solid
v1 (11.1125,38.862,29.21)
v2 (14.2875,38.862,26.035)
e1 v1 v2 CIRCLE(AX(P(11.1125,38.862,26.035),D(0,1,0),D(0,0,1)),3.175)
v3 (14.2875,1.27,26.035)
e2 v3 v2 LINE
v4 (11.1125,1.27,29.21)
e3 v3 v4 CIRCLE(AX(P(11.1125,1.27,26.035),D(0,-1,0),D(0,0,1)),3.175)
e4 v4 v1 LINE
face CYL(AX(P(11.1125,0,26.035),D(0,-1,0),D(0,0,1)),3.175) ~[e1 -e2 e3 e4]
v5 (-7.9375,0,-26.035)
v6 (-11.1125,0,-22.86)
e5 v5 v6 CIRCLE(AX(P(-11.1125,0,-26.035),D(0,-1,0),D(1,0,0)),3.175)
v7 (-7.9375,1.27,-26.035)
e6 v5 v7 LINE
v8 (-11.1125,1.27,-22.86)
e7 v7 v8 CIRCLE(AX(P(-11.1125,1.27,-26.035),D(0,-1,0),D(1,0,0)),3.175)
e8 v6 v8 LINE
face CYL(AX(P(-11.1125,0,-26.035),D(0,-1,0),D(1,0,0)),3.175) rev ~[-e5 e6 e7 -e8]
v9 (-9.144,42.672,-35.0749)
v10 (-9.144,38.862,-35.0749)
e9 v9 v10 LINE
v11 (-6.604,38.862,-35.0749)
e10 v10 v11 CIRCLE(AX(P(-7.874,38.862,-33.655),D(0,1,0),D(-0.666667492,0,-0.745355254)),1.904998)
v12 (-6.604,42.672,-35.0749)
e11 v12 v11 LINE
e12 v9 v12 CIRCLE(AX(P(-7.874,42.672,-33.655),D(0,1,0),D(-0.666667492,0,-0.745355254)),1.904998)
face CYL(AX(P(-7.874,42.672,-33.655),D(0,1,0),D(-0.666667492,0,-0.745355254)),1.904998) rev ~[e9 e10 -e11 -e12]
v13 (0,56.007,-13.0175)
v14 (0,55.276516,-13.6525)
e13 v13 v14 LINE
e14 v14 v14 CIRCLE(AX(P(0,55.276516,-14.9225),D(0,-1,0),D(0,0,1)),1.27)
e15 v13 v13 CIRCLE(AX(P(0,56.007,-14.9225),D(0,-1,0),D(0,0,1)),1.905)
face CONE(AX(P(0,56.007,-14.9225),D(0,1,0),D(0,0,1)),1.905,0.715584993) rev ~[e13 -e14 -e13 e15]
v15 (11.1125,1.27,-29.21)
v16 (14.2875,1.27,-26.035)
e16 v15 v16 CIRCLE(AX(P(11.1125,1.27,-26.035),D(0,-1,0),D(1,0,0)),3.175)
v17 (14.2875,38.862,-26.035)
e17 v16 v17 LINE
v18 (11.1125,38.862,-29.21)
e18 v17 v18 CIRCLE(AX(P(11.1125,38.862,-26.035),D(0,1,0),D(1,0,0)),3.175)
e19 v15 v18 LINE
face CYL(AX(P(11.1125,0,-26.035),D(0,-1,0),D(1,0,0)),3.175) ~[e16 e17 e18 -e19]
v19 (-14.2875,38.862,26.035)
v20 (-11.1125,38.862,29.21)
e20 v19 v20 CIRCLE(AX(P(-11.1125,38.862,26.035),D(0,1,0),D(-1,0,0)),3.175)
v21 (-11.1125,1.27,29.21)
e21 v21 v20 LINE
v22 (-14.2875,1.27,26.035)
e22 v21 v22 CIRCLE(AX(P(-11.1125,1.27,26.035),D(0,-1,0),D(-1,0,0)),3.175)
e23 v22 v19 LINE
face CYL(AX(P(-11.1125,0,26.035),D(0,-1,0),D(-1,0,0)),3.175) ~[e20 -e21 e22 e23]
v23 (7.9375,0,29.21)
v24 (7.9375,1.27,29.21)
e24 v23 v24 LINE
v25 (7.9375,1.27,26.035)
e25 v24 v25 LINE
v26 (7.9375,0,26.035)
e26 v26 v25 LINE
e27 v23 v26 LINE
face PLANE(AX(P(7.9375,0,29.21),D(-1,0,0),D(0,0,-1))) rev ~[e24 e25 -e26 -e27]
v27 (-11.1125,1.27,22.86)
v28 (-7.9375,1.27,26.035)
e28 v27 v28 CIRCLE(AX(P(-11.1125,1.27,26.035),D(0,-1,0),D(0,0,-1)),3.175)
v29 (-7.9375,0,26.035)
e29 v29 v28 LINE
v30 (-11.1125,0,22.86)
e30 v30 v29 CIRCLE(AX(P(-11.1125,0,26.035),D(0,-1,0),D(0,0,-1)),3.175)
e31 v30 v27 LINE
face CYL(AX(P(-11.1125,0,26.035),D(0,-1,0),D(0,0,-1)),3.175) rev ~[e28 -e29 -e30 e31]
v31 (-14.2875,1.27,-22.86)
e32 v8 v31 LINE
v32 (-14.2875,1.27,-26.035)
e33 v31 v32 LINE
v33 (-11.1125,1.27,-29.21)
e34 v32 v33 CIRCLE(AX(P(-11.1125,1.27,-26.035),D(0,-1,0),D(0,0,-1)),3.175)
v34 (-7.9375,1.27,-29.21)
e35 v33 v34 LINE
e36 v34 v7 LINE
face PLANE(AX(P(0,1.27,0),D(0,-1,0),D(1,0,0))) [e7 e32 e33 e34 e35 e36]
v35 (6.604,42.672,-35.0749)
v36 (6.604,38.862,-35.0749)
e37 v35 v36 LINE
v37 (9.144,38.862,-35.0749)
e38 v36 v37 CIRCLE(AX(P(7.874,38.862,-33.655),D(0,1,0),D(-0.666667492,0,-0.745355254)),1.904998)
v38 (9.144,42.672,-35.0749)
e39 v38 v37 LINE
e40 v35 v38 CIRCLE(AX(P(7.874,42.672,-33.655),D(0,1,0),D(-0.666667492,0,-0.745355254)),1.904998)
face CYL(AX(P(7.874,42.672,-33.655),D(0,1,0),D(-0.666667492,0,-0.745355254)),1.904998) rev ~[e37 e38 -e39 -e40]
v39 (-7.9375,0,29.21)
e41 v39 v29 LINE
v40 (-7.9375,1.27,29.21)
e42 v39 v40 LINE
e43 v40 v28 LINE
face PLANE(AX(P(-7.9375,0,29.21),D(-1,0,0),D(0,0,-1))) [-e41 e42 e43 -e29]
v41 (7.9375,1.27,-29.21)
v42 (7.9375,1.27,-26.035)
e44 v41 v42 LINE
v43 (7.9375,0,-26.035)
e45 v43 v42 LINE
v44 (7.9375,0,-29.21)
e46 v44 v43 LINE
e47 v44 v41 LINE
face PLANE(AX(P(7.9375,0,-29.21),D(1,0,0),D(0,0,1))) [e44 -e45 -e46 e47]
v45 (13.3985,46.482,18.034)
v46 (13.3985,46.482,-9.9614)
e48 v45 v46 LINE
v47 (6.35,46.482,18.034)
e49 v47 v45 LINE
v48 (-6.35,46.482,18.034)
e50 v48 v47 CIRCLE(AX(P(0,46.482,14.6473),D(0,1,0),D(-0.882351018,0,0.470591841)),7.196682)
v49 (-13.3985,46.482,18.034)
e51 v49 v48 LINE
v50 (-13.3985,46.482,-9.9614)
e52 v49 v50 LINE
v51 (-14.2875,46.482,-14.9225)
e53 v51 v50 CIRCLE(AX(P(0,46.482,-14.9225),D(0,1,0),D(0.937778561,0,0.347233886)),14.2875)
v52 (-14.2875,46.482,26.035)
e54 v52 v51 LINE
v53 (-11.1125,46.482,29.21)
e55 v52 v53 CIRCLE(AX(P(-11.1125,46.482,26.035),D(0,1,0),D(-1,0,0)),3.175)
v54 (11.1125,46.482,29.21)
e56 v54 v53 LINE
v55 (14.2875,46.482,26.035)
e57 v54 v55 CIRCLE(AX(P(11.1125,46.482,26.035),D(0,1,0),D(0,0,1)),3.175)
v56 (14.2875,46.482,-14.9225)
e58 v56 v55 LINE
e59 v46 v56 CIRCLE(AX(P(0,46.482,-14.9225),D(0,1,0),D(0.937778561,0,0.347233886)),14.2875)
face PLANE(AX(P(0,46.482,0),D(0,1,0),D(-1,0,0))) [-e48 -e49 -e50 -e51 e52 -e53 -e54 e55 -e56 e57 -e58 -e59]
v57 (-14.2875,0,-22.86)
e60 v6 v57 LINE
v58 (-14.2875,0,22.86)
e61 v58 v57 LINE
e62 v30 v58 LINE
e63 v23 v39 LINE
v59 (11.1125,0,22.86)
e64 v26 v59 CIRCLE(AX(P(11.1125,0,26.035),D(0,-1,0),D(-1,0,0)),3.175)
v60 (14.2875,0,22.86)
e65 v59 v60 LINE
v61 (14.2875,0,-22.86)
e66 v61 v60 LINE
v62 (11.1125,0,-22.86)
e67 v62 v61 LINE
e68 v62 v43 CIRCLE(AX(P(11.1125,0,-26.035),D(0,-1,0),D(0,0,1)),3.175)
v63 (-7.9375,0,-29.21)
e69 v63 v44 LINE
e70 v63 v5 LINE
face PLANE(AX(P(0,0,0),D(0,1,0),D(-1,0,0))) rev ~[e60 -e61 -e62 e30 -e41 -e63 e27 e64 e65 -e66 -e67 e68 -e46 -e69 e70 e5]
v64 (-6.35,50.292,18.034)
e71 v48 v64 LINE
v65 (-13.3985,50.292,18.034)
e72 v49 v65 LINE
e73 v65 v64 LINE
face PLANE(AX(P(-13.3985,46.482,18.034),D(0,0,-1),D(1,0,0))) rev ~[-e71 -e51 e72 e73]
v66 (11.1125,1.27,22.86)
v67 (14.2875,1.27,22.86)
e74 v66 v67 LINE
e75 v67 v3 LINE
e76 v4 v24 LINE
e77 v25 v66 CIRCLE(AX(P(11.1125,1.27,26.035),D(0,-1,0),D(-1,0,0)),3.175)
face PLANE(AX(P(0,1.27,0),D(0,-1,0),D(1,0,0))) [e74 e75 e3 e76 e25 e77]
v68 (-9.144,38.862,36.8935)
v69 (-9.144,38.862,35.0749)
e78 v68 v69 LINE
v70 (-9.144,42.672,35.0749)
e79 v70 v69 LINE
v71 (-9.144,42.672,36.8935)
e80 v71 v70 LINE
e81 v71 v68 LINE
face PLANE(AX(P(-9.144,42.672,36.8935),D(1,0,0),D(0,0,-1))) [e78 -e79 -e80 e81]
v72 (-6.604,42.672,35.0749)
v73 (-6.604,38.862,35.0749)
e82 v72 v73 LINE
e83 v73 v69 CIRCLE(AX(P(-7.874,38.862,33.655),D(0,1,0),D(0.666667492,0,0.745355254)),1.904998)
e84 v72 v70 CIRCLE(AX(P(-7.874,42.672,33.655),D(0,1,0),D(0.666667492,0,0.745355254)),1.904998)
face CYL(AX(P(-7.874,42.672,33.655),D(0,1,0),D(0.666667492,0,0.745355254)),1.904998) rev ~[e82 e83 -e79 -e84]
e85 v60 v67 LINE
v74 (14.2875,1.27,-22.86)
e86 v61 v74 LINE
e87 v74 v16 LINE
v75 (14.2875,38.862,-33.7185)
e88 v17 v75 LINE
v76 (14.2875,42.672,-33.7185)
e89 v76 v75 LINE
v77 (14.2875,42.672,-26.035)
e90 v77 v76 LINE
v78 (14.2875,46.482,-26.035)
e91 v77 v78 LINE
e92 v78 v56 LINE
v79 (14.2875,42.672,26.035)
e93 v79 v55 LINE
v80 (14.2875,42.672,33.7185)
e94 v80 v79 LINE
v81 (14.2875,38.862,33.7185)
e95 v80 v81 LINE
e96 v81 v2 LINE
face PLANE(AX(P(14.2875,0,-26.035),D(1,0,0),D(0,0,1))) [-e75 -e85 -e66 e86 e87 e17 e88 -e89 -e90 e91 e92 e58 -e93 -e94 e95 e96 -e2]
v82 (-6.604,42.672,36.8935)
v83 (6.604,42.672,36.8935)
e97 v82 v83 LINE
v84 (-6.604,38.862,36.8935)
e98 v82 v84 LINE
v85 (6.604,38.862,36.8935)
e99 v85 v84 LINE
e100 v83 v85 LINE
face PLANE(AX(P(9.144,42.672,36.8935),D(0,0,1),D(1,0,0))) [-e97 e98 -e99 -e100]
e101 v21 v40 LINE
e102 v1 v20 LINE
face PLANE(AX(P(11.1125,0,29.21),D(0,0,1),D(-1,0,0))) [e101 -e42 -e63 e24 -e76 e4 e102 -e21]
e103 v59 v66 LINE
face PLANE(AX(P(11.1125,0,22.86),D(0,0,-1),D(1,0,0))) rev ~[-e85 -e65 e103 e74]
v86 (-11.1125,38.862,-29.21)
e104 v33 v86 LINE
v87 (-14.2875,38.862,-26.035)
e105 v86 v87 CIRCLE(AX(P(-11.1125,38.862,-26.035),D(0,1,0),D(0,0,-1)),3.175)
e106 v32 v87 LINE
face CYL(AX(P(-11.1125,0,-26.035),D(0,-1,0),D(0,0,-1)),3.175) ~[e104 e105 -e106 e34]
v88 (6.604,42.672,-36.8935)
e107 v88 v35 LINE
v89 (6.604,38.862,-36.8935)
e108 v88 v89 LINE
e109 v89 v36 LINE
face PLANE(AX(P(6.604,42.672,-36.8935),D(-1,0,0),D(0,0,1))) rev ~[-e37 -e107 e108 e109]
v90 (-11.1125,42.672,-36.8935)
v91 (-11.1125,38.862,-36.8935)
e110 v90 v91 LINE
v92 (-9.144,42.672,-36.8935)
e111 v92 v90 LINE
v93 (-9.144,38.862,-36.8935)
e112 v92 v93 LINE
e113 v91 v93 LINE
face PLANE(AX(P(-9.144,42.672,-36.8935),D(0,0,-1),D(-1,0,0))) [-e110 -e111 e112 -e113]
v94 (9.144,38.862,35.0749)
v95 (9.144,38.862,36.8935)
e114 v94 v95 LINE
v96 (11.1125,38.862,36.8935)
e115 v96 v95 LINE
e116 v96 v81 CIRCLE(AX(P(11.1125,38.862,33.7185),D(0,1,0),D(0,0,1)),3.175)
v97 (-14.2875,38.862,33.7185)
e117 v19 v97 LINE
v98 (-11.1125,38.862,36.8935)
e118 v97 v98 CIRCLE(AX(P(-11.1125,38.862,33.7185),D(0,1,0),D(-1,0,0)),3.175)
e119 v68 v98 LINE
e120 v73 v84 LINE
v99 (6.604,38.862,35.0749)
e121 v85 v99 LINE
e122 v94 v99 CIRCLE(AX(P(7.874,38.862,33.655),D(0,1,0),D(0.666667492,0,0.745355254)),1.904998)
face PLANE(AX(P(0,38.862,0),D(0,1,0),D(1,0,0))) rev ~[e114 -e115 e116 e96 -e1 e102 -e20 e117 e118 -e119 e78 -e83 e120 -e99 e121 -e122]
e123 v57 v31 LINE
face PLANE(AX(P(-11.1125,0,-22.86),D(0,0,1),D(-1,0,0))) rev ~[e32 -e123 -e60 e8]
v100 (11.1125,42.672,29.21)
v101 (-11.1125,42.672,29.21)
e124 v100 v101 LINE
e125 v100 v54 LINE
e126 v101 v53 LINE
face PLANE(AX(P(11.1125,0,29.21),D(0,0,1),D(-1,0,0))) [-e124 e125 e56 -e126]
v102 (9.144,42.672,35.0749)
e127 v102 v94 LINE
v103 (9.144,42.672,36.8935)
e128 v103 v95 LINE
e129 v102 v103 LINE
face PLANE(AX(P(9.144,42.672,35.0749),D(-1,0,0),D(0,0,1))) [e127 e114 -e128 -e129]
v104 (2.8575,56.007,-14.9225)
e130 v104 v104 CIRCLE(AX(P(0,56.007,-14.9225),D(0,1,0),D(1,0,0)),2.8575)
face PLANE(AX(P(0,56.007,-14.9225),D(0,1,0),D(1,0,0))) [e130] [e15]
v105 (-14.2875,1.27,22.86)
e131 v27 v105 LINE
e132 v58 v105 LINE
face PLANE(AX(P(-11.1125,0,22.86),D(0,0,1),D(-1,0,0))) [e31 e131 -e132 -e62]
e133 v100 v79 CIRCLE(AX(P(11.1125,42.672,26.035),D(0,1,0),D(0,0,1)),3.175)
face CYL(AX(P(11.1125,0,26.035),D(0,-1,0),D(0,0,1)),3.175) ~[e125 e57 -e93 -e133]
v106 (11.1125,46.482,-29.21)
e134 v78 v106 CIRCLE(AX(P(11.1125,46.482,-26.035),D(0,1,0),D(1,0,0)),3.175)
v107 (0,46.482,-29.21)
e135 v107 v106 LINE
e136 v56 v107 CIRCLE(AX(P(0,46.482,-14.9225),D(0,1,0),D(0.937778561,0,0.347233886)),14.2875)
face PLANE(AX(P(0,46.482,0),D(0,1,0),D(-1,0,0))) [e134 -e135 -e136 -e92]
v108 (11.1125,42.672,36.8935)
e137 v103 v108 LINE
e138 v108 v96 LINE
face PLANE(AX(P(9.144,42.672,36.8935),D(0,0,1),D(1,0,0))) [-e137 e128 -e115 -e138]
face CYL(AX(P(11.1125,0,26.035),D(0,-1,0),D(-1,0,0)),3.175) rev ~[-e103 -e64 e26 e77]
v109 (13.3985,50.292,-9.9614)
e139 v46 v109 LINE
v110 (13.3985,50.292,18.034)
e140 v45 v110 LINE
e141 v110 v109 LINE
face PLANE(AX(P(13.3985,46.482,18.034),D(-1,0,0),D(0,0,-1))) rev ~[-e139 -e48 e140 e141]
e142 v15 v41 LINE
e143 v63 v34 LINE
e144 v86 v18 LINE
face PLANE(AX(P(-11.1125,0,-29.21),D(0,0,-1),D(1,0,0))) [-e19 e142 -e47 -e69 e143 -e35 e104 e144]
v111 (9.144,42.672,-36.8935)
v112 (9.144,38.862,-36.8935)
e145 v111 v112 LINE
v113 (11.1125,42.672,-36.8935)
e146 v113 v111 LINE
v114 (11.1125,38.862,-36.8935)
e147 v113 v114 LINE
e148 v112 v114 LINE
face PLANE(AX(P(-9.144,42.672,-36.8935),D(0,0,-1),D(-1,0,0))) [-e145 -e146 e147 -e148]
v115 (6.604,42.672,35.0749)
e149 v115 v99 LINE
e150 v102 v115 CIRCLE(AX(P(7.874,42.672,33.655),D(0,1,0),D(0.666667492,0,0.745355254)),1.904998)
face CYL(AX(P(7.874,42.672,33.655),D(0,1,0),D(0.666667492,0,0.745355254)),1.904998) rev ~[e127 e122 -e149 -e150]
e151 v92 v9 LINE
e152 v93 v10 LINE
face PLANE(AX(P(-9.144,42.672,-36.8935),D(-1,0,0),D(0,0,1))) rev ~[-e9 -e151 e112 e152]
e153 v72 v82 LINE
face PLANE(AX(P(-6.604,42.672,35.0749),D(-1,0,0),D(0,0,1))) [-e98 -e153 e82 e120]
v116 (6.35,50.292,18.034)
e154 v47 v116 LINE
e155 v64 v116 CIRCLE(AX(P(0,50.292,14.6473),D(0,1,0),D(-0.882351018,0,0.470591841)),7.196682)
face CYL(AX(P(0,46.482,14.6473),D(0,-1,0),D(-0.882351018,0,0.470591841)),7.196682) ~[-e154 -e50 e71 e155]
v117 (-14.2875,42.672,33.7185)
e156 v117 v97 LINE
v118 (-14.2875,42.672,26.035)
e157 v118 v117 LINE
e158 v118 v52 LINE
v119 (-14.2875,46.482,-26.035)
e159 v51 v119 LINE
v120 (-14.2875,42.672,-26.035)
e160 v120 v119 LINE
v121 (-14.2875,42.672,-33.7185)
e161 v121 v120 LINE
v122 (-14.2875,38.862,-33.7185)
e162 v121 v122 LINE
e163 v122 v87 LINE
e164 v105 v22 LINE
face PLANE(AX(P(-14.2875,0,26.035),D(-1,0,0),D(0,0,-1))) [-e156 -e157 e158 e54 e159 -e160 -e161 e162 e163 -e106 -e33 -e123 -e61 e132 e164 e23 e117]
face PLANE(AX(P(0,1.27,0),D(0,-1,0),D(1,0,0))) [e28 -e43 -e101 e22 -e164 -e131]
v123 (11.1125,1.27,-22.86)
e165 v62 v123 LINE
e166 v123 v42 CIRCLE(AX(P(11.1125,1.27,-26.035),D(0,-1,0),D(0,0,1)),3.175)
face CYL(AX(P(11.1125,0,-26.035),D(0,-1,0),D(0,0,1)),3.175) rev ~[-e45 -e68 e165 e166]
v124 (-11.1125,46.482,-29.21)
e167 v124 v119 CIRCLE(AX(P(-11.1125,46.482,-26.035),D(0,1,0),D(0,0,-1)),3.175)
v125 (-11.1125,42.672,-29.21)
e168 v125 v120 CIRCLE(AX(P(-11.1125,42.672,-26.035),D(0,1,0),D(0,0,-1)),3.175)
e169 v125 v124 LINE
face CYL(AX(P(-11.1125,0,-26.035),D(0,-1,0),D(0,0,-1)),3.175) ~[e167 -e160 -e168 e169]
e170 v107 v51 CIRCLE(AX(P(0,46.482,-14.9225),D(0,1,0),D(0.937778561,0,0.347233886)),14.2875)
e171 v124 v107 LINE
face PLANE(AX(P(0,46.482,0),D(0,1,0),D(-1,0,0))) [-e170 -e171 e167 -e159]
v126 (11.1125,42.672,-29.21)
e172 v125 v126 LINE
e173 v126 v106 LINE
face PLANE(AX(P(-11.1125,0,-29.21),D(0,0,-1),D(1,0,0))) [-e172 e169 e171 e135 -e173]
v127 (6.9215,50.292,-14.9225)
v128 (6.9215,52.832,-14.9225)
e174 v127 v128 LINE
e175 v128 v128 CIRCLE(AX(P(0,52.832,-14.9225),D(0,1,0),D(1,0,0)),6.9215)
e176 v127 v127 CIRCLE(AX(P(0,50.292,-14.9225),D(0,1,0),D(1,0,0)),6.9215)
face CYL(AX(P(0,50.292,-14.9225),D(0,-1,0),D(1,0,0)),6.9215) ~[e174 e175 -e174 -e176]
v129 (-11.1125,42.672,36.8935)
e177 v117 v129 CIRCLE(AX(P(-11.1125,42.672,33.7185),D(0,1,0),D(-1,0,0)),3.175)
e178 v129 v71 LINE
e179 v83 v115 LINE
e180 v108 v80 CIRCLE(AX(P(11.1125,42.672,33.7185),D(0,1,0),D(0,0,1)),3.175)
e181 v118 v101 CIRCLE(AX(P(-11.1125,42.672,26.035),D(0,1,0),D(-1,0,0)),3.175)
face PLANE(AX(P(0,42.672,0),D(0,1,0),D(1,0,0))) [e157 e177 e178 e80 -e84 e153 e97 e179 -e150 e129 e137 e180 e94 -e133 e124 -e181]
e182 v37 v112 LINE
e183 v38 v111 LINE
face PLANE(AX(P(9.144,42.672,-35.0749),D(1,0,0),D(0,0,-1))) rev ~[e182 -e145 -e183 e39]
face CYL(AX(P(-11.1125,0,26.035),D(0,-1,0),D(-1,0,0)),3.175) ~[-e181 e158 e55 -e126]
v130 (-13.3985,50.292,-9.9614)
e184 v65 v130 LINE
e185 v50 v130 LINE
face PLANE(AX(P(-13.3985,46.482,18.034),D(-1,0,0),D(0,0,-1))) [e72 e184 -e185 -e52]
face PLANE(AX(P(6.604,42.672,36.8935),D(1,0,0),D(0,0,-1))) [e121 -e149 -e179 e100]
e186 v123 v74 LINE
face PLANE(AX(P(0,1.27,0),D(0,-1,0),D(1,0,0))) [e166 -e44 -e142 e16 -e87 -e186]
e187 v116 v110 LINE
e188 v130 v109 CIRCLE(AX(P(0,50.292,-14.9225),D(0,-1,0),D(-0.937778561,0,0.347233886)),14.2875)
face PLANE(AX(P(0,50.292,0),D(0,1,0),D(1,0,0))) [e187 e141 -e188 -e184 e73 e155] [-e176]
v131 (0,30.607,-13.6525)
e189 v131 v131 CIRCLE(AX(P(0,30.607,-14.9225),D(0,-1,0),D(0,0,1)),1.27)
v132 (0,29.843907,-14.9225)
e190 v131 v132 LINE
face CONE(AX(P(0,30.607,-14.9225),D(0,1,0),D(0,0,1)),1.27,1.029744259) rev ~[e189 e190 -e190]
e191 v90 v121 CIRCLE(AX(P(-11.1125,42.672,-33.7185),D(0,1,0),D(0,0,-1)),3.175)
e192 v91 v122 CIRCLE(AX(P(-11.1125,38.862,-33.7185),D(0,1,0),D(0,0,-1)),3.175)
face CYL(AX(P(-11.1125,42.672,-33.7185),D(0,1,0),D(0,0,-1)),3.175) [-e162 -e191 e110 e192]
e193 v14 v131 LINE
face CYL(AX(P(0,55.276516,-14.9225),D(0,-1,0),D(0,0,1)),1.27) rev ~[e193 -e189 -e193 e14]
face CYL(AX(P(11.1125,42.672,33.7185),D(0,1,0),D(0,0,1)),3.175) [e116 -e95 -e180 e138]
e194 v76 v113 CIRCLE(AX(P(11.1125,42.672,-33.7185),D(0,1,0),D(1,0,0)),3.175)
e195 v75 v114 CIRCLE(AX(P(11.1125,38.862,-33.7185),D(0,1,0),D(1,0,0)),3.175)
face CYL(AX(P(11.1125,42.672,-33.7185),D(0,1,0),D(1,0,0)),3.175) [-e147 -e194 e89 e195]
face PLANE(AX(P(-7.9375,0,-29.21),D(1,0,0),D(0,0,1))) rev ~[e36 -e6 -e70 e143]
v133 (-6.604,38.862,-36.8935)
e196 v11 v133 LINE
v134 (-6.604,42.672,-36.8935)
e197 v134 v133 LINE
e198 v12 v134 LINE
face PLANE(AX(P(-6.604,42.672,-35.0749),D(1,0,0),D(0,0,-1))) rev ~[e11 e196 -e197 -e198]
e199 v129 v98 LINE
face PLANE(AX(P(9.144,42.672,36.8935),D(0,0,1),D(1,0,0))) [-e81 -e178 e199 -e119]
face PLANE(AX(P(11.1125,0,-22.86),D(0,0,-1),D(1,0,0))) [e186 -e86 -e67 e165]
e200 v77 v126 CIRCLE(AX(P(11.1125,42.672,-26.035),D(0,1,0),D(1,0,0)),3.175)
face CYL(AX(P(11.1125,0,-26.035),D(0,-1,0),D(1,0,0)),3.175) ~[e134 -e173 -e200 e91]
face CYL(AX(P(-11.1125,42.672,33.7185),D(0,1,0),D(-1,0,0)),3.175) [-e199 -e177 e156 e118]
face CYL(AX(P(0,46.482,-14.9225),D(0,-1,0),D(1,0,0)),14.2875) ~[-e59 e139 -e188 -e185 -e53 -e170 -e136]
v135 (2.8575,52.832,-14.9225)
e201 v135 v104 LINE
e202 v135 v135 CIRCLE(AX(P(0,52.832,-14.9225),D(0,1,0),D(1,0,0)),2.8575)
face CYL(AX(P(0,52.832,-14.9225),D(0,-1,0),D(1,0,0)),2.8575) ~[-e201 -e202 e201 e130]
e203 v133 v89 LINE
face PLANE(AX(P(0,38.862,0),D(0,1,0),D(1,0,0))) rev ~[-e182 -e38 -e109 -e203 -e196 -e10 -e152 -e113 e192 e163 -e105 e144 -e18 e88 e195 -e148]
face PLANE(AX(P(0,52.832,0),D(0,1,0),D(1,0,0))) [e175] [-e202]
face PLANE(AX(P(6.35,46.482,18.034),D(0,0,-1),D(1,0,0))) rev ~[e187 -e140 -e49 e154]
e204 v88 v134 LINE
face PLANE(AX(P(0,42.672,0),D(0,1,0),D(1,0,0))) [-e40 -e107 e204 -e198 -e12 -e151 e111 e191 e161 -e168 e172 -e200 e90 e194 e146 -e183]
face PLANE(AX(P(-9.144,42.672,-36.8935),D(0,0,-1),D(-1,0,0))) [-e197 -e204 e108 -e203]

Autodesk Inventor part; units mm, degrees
ref_plane "YZ Plane" through (0, 0, 0) normal (1, 0, 0) x (0, 1, 0)
ref_plane "XZ Plane" through (0, 0, 0) normal (0, 1, 0) x (-1, 0, 0)
sketch "Sketch1" plane through (0, 0, 0) normal (0, 1, 0) x (-1, 0, 0)
  line L0 (-11.1125, 29.21) -> (11.1125, 29.21)
  line L1 (14.2875, 26.035) -> (14.2875, -26.035)
  line L2 (11.1125, -29.21) -> (-11.1125, -29.21)
  line L3 (-14.2875, -26.035) -> (-14.2875, 26.035)
  line L4 (-14.2875, 29.21) -> (14.2875, -29.21) construction
  line L5 (14.2875, 29.21) -> (-14.2875, -29.21) construction
  arc A0 (14.2875, 26.035) -> (11.1125, 29.21) centre (11.1125, 26.035) ccw
  arc A1 (-11.1125, 29.21) -> (-14.2875, 26.035) centre (-11.1125, 26.035) ccw
  arc A2 (-14.2875, -26.035) -> (-11.1125, -29.21) centre (-11.1125, -26.035) ccw
  arc A3 (11.1125, -29.21) -> (14.2875, -26.035) centre (11.1125, -26.035) ccw
  point P0 (0, 0)
  dimension "d0" = 28.575
  dimension "d1" = 58.42
  dimension "d2" = 3.175
extrude "Extrusion1" add sketch "Sketch1" along normal blind 46.482
ref_plane "Work Plane1" through (0, 42.672, 0) normal (0, 1, 0) x (1, 0, 0)
sketch "Sketch2" plane through (0, 42.672, 0) normal (0, 1, 0) x (1, 0, 0)
  arc A0 (-11.1125, 29.21) -> (-14.2875, 26.035) centre (-11.1125, 26.035) ccw projected
  line L0 (-11.1125, 29.21) -> (11.1125, 29.21) projected
  arc A1 (14.2875, 26.035) -> (11.1125, 29.21) centre (11.1125, 26.035) ccw projected
  line L1 (14.2875, 26.035) -> (14.2875, -26.035) projected
  arc A2 (11.1125, -29.21) -> (14.2875, -26.035) centre (11.1125, -26.035) ccw projected
  line L2 (11.1125, -29.21) -> (-11.1125, -29.21) projected
  arc A3 (-14.2875, -26.035) -> (-11.1125, -29.21) centre (-11.1125, -26.035) ccw projected
  line L3 (-14.2875, -26.035) -> (-14.2875, 26.035) projected
  line L4 (-11.1125, -36.8935) -> (11.1125, -36.8935)
  line L5 (14.2875, -33.7185) -> (14.2875, 33.7185)
  line L6 (11.1125, 36.8935) -> (-6.604, 36.8935)
  line L7 (-14.2875, 33.7185) -> (-14.2875, -33.7185)
  line L8 (-14.2875, -36.8935) -> (14.2875, 36.8935) construction
  line L9 (14.2875, -36.8935) -> (-14.2875, 36.8935) construction
  arc A4 (-11.1125, 36.8935) -> (-14.2875, 33.7185) centre (-11.1125, 33.7185) ccw
  arc A5 (14.2875, 33.7185) -> (11.1125, 36.8935) centre (11.1125, 33.7185) ccw
  arc A6 (11.1125, -36.8935) -> (14.2875, -33.7185) centre (11.1125, -33.7185) ccw
  arc A7 (-14.2875, -33.7185) -> (-11.1125, -36.8935) centre (-11.1125, -33.7185) ccw
  line L10 (-7.874, -33.655) -> (7.874, -33.655) construction
  line L11 (7.874, -33.655) -> (7.874, 33.655) construction
  line L12 (7.874, 33.655) -> (-7.874, 33.655) construction
  line L13 (-7.874, 33.655) -> (-7.874, -33.655) construction
  line L14 (-7.874, -33.655) -> (7.874, 33.655) construction
  line L15 (7.874, -33.655) -> (-7.874, 33.655) construction
  arc A8 (-9.144, 35.0749) -> (-6.604, 35.0749) centre (-7.874, 33.655) ccw
  line L16 (-9.144, 32.385) -> (-6.604, 32.385) construction
  line L17 (-6.604, 32.385) -> (-6.604, 34.925) construction
  line L18 (-6.604, 34.925) -> (-9.144, 34.925) construction
  line L19 (-9.144, 34.925) -> (-9.144, 32.385) construction
  line L20 (-9.144, 32.385) -> (-6.604, 34.925) construction
  line L21 (-6.604, 32.385) -> (-9.144, 34.925) construction
  line L22 (-9.144, 34.925) -> (-6.604, 34.925) construction
  line L23 (-6.604, 34.925) -> (-6.604, 36.8935)
  line L24 (-6.604, 36.8935) -> (-9.144, 36.8935)
  line L25 (-9.144, 36.8935) -> (-9.144, 34.925)
  arc A9 (-6.604, 35.0749) -> (-9.144, 35.0749) centre (-7.874, 33.655) ccw construction
  line L26 (-9.144, 36.8935) -> (-11.1125, 36.8935)
  line L27 (-6.604, 36.8935) -> (-9.144, 36.8935) construction
  arc A10 (6.604, 35.0749) -> (9.144, 35.0749) centre (7.874, 33.655) ccw
  line L28 (6.604, 36.8935) -> (6.604, 34.925)
  line L29 (9.144, 34.925) -> (9.144, 36.8935)
  line L30 (-14.2875, 0) -> (14.2875, 0) construction
  arc A11 (-6.604, -35.0749) -> (-9.144, -35.0749) centre (-7.874, -33.655) ccw
  line L31 (-6.604, -34.925) -> (-6.604, -36.8935)
  line L32 (-9.144, -36.8935) -> (-9.144, -34.925)
  arc A12 (9.144, -35.0749) -> (6.604, -35.0749) centre (7.874, -33.655) ccw
  line L33 (6.604, -36.8935) -> (6.604, -34.925)
  line L34 (9.144, -34.925) -> (9.144, -36.8935)
  line L35 (6.604, 36.8935) -> (9.144, 36.8935) construction
  line L36 (6.604, -36.8935) -> (9.144, -36.8935) construction
  line L37 (-9.144, -36.8935) -> (-6.604, -36.8935) construction
  line L38 (6.604, 36.8935) -> (9.144, 36.8935)
  line L39 (6.604, -36.8935) -> (9.144, -36.8935)
  line L40 (-9.144, -36.8935) -> (-6.604, -36.8935)
  point P0 (0, 0)
  dimension "d6" = 73.787
  dimension "d7" = 3.175
  dimension "d10" = 15.748
  dimension "d11" = 67.31
  dimension "d12" = 3.81
  dimension "d16" = 2.54
  dimension "d17" = 2.54
  dimension "d20" = 15.748
extrude "Extrusion2" add sketch "Sketch2" against normal blind 3.81 contours A0 L7 A4 L26 L25 A8 L23 L6 L28 A10 L29 A5 L5 A1 L0 | A3 L2 A2 L5 A6 L4 L34 A12 L33 L31 A11 L32 A7 L7 | L24 L23 A8 L25 | L32 A11 L31 L4 | L29 A10 L28 L6 | L4 L33 A12 L34
extrude "Extrusion3" cut sketch "Sketch2" against normal through all contours L24 L23 A8 L25 | L32 A11 L31 L4 | L29 A10 L28 L6 | L4 L33 A12 L34
sketch "Sketch3" plane through (0, 46.482, 0) normal (0, 1, 0) x (1, 0, 0)
  line L0 (-14.2875, 26.035) -> (-14.2875, -26.035) construction
  arc A0 (-14.2875, -26.035) -> (-11.1125, -29.21) centre (-11.1125, -26.035) ccw construction
  line L1 (-11.1125, -29.21) -> (11.1125, -29.21) construction
  arc A1 (11.1125, -29.21) -> (14.2875, -26.035) centre (11.1125, -26.035) ccw construction
  line L2 (14.2875, -26.035) -> (14.2875, 26.035) construction
  arc A2 (14.2875, 26.035) -> (11.1125, 29.21) centre (11.1125, 26.035) ccw construction
  line L3 (11.1125, 29.21) -> (-11.1125, 29.21) construction
  arc A3 (-11.1125, 29.21) -> (-14.2875, 26.035) centre (-11.1125, 26.035) ccw construction
  circle A4 centre (0, 14.9225) radius 14.2875
  line L4 (-13.3985, -18.034) -> (-13.3985, 9.9614)
  line L5 (13.3985, -18.034) -> (13.3985, 9.9614)
  line L6 (-13.3985, -18.034) -> (13.3985, -18.034)
  circle A5 centre (0, -18.034) radius 6.35 construction
  line L7 (0, -18.034) -> (0, -21.844) construction
  arc A6 (-6.35, -18.034) -> (6.35, -18.034) centre (0, -14.6473) ccw
  point P0 (0, 0)
  dimension "d27" = 0.889
  dimension "d28" = 0.889
  dimension "d29" = 47.244
  dimension "d30" = 12.7
  dimension "d31" = 3.81
extrude "Extrusion4" add sketch "Sketch3" along normal blind 3.81
sketch "Sketch4" plane through (0, 50.292, 0) normal (0, 1, 0) x (1, 0, 0)
  arc A0 (13.3985, 9.9614) -> (-13.3985, 9.9614) centre (0, 14.9225) ccw construction
  circle A1 centre (0, 14.9225) radius 6.9215
  point P0 (0, 0)
  dimension "d34" = 13.843
extrude "Extrusion5" add sketch "Sketch4" along normal blind 2.54
sketch "Sketch5" plane through (0, 50.292, 0) normal (0, 1, 0) x (1, 0, 0)
  circle A0 centre (0, 14.9225) radius 6.9215 construction
  arc A1 (-6.35, -18.034) -> (6.35, -18.034) centre (0, -14.6473) ccw construction
  line L0 (6.35, -18.034) -> (13.3985, -18.034) construction
  line L1 (13.3985, -18.034) -> (13.3985, 9.9614) construction
  arc A2 (13.3985, 9.9614) -> (-13.3985, 9.9614) centre (0, 14.9225) ccw construction
  line L2 (-13.3985, 9.9614) -> (-13.3985, -18.034) construction
  line L3 (-13.3985, -18.034) -> (-6.35, -18.034) construction
  line L4 (-9.906, -2.159) -> (9.9036, -2.159) construction
  line L5 (9.9036, -2.159) -> (9.9036, -14.859) construction
  line L6 (9.9036, -14.859) -> (-9.906, -14.859) construction
  line L7 (-9.906, -14.859) -> (-9.906, -2.159) construction
  point P0 (0, 0)
  dimension "d53" = 12.7
  dimension "d59" = 3.175
  dimension "d60" = 3.4925
  dimension "d61" = 3.4949
decal "Decal1"
sketch "Sketch6" plane through (0, 52.832, -14.9225) normal (0, 1, 0) x (1, 0, 0)
  circle A0 centre (0, 0) radius 6.9215 construction
  circle A1 centre (0, 0) radius 2.8575
  point P0 (0, -14.9225)
  dimension "d62" = 5.715
extrude "Extrusion6" add sketch "Sketch6" along normal blind 3.175
hole "Hole1" at (0, 56.007, -14.9225) direction (0, -1, 0) diameter 2.54 depth 25.4 tip angle 118 countersink diameter 3.81 countersink angle 82
sketch "Sketch7" plane through (0, 0, 0) normal (0, -1, 0) x (1, 0, 0)
  line L0 (-14.2875, 26.035) -> (-14.2875, -26.035) construction
  arc A0 (-14.2875, -26.035) -> (-11.1125, -29.21) centre (-11.1125, -26.035) ccw construction
  line L1 (-11.1125, -29.21) -> (11.1125, -29.21) construction
  arc A1 (11.1125, -29.21) -> (14.2875, -26.035) centre (11.1125, -26.035) ccw construction
  line L2 (14.2875, -26.035) -> (14.2875, 26.035) construction
  arc A2 (14.2875, 26.035) -> (11.1125, 29.21) centre (11.1125, 26.035) ccw construction
  line L3 (11.1125, 29.21) -> (-11.1125, 29.21) construction
  arc A3 (-11.1125, 29.21) -> (-14.2875, 26.035) centre (-11.1125, 26.035) ccw construction
  line L4 (-14.2875, 26.035) -> (-14.2875, 33.7185) construction
  line L5 (14.2875, -26.035) -> (14.2875, -33.7185) construction
  line L6 (-14.2875, 29.21) -> (14.2875, 29.21) construction
  line L7 (14.2875, 29.21) -> (14.2875, -29.21) construction
  line L8 (14.2875, -29.21) -> (-14.2875, -29.21) construction
  line L9 (-14.2875, -29.21) -> (-14.2875, 29.21) construction
  line L10 (-11.1125, 22.86) -> (-14.2875, 22.86)
  line L11 (-14.2875, 22.86) -> (-14.2875, 29.21)
  line L12 (-14.2875, 29.21) -> (-7.9375, 29.21)
  line L13 (-7.9375, 29.21) -> (-7.9375, 26.035)
  line L14 (-7.9375, 22.86) -> (-14.2875, 29.21) construction
  line L15 (-14.2875, 22.86) -> (-7.9375, 29.21) construction
  line L16 (11.1125, 22.86) -> (14.2875, 22.86)
  line L17 (14.2875, 22.86) -> (14.2875, 29.21)
  line L18 (14.2875, 29.21) -> (7.9375, 29.21)
  line L19 (7.9375, 29.21) -> (7.9375, 26.035)
  line L20 (7.9375, 22.86) -> (14.2875, 29.21) construction
  line L21 (14.2875, 22.86) -> (7.9375, 29.21) construction
  line L22 (-11.1125, -22.86) -> (-14.2875, -22.86)
  line L23 (-14.2875, -22.86) -> (-14.2875, -29.21)
  line L24 (-14.2875, -29.21) -> (-7.9375, -29.21)
  line L25 (-7.9375, -29.21) -> (-7.9375, -26.035)
  line L26 (-7.9375, -22.86) -> (-14.2875, -29.21) construction
  line L27 (-14.2875, -22.86) -> (-7.9375, -29.21) construction
  line L28 (11.1125, -22.86) -> (14.2875, -22.86)
  line L29 (14.2875, -22.86) -> (14.2875, -29.21)
  line L30 (14.2875, -29.21) -> (7.9375, -29.21)
  line L31 (7.9375, -29.21) -> (7.9375, -26.035)
  line L32 (7.9375, -22.86) -> (14.2875, -29.21) construction
  line L33 (14.2875, -22.86) -> (7.9375, -29.21) construction
  arc A4 (-11.1125, 22.86) -> (-7.9375, 26.035) centre (-11.1125, 26.035) ccw
  arc A5 (7.9375, 26.035) -> (11.1125, 22.86) centre (11.1125, 26.035) ccw
  arc A6 (-7.9375, -26.035) -> (-11.1125, -22.86) centre (-11.1125, -26.035) ccw
  arc A7 (11.1125, -22.86) -> (7.9375, -26.035) centre (11.1125, -26.035) ccw
  point P0 (0, 0)
  dimension "d76" = 3.175
extrude "Extrusion7" cut sketch "Sketch7" against normal blind 1.27
properties part number "HS-785HB-1111-2017" material "Plastic, Opaque Black"
